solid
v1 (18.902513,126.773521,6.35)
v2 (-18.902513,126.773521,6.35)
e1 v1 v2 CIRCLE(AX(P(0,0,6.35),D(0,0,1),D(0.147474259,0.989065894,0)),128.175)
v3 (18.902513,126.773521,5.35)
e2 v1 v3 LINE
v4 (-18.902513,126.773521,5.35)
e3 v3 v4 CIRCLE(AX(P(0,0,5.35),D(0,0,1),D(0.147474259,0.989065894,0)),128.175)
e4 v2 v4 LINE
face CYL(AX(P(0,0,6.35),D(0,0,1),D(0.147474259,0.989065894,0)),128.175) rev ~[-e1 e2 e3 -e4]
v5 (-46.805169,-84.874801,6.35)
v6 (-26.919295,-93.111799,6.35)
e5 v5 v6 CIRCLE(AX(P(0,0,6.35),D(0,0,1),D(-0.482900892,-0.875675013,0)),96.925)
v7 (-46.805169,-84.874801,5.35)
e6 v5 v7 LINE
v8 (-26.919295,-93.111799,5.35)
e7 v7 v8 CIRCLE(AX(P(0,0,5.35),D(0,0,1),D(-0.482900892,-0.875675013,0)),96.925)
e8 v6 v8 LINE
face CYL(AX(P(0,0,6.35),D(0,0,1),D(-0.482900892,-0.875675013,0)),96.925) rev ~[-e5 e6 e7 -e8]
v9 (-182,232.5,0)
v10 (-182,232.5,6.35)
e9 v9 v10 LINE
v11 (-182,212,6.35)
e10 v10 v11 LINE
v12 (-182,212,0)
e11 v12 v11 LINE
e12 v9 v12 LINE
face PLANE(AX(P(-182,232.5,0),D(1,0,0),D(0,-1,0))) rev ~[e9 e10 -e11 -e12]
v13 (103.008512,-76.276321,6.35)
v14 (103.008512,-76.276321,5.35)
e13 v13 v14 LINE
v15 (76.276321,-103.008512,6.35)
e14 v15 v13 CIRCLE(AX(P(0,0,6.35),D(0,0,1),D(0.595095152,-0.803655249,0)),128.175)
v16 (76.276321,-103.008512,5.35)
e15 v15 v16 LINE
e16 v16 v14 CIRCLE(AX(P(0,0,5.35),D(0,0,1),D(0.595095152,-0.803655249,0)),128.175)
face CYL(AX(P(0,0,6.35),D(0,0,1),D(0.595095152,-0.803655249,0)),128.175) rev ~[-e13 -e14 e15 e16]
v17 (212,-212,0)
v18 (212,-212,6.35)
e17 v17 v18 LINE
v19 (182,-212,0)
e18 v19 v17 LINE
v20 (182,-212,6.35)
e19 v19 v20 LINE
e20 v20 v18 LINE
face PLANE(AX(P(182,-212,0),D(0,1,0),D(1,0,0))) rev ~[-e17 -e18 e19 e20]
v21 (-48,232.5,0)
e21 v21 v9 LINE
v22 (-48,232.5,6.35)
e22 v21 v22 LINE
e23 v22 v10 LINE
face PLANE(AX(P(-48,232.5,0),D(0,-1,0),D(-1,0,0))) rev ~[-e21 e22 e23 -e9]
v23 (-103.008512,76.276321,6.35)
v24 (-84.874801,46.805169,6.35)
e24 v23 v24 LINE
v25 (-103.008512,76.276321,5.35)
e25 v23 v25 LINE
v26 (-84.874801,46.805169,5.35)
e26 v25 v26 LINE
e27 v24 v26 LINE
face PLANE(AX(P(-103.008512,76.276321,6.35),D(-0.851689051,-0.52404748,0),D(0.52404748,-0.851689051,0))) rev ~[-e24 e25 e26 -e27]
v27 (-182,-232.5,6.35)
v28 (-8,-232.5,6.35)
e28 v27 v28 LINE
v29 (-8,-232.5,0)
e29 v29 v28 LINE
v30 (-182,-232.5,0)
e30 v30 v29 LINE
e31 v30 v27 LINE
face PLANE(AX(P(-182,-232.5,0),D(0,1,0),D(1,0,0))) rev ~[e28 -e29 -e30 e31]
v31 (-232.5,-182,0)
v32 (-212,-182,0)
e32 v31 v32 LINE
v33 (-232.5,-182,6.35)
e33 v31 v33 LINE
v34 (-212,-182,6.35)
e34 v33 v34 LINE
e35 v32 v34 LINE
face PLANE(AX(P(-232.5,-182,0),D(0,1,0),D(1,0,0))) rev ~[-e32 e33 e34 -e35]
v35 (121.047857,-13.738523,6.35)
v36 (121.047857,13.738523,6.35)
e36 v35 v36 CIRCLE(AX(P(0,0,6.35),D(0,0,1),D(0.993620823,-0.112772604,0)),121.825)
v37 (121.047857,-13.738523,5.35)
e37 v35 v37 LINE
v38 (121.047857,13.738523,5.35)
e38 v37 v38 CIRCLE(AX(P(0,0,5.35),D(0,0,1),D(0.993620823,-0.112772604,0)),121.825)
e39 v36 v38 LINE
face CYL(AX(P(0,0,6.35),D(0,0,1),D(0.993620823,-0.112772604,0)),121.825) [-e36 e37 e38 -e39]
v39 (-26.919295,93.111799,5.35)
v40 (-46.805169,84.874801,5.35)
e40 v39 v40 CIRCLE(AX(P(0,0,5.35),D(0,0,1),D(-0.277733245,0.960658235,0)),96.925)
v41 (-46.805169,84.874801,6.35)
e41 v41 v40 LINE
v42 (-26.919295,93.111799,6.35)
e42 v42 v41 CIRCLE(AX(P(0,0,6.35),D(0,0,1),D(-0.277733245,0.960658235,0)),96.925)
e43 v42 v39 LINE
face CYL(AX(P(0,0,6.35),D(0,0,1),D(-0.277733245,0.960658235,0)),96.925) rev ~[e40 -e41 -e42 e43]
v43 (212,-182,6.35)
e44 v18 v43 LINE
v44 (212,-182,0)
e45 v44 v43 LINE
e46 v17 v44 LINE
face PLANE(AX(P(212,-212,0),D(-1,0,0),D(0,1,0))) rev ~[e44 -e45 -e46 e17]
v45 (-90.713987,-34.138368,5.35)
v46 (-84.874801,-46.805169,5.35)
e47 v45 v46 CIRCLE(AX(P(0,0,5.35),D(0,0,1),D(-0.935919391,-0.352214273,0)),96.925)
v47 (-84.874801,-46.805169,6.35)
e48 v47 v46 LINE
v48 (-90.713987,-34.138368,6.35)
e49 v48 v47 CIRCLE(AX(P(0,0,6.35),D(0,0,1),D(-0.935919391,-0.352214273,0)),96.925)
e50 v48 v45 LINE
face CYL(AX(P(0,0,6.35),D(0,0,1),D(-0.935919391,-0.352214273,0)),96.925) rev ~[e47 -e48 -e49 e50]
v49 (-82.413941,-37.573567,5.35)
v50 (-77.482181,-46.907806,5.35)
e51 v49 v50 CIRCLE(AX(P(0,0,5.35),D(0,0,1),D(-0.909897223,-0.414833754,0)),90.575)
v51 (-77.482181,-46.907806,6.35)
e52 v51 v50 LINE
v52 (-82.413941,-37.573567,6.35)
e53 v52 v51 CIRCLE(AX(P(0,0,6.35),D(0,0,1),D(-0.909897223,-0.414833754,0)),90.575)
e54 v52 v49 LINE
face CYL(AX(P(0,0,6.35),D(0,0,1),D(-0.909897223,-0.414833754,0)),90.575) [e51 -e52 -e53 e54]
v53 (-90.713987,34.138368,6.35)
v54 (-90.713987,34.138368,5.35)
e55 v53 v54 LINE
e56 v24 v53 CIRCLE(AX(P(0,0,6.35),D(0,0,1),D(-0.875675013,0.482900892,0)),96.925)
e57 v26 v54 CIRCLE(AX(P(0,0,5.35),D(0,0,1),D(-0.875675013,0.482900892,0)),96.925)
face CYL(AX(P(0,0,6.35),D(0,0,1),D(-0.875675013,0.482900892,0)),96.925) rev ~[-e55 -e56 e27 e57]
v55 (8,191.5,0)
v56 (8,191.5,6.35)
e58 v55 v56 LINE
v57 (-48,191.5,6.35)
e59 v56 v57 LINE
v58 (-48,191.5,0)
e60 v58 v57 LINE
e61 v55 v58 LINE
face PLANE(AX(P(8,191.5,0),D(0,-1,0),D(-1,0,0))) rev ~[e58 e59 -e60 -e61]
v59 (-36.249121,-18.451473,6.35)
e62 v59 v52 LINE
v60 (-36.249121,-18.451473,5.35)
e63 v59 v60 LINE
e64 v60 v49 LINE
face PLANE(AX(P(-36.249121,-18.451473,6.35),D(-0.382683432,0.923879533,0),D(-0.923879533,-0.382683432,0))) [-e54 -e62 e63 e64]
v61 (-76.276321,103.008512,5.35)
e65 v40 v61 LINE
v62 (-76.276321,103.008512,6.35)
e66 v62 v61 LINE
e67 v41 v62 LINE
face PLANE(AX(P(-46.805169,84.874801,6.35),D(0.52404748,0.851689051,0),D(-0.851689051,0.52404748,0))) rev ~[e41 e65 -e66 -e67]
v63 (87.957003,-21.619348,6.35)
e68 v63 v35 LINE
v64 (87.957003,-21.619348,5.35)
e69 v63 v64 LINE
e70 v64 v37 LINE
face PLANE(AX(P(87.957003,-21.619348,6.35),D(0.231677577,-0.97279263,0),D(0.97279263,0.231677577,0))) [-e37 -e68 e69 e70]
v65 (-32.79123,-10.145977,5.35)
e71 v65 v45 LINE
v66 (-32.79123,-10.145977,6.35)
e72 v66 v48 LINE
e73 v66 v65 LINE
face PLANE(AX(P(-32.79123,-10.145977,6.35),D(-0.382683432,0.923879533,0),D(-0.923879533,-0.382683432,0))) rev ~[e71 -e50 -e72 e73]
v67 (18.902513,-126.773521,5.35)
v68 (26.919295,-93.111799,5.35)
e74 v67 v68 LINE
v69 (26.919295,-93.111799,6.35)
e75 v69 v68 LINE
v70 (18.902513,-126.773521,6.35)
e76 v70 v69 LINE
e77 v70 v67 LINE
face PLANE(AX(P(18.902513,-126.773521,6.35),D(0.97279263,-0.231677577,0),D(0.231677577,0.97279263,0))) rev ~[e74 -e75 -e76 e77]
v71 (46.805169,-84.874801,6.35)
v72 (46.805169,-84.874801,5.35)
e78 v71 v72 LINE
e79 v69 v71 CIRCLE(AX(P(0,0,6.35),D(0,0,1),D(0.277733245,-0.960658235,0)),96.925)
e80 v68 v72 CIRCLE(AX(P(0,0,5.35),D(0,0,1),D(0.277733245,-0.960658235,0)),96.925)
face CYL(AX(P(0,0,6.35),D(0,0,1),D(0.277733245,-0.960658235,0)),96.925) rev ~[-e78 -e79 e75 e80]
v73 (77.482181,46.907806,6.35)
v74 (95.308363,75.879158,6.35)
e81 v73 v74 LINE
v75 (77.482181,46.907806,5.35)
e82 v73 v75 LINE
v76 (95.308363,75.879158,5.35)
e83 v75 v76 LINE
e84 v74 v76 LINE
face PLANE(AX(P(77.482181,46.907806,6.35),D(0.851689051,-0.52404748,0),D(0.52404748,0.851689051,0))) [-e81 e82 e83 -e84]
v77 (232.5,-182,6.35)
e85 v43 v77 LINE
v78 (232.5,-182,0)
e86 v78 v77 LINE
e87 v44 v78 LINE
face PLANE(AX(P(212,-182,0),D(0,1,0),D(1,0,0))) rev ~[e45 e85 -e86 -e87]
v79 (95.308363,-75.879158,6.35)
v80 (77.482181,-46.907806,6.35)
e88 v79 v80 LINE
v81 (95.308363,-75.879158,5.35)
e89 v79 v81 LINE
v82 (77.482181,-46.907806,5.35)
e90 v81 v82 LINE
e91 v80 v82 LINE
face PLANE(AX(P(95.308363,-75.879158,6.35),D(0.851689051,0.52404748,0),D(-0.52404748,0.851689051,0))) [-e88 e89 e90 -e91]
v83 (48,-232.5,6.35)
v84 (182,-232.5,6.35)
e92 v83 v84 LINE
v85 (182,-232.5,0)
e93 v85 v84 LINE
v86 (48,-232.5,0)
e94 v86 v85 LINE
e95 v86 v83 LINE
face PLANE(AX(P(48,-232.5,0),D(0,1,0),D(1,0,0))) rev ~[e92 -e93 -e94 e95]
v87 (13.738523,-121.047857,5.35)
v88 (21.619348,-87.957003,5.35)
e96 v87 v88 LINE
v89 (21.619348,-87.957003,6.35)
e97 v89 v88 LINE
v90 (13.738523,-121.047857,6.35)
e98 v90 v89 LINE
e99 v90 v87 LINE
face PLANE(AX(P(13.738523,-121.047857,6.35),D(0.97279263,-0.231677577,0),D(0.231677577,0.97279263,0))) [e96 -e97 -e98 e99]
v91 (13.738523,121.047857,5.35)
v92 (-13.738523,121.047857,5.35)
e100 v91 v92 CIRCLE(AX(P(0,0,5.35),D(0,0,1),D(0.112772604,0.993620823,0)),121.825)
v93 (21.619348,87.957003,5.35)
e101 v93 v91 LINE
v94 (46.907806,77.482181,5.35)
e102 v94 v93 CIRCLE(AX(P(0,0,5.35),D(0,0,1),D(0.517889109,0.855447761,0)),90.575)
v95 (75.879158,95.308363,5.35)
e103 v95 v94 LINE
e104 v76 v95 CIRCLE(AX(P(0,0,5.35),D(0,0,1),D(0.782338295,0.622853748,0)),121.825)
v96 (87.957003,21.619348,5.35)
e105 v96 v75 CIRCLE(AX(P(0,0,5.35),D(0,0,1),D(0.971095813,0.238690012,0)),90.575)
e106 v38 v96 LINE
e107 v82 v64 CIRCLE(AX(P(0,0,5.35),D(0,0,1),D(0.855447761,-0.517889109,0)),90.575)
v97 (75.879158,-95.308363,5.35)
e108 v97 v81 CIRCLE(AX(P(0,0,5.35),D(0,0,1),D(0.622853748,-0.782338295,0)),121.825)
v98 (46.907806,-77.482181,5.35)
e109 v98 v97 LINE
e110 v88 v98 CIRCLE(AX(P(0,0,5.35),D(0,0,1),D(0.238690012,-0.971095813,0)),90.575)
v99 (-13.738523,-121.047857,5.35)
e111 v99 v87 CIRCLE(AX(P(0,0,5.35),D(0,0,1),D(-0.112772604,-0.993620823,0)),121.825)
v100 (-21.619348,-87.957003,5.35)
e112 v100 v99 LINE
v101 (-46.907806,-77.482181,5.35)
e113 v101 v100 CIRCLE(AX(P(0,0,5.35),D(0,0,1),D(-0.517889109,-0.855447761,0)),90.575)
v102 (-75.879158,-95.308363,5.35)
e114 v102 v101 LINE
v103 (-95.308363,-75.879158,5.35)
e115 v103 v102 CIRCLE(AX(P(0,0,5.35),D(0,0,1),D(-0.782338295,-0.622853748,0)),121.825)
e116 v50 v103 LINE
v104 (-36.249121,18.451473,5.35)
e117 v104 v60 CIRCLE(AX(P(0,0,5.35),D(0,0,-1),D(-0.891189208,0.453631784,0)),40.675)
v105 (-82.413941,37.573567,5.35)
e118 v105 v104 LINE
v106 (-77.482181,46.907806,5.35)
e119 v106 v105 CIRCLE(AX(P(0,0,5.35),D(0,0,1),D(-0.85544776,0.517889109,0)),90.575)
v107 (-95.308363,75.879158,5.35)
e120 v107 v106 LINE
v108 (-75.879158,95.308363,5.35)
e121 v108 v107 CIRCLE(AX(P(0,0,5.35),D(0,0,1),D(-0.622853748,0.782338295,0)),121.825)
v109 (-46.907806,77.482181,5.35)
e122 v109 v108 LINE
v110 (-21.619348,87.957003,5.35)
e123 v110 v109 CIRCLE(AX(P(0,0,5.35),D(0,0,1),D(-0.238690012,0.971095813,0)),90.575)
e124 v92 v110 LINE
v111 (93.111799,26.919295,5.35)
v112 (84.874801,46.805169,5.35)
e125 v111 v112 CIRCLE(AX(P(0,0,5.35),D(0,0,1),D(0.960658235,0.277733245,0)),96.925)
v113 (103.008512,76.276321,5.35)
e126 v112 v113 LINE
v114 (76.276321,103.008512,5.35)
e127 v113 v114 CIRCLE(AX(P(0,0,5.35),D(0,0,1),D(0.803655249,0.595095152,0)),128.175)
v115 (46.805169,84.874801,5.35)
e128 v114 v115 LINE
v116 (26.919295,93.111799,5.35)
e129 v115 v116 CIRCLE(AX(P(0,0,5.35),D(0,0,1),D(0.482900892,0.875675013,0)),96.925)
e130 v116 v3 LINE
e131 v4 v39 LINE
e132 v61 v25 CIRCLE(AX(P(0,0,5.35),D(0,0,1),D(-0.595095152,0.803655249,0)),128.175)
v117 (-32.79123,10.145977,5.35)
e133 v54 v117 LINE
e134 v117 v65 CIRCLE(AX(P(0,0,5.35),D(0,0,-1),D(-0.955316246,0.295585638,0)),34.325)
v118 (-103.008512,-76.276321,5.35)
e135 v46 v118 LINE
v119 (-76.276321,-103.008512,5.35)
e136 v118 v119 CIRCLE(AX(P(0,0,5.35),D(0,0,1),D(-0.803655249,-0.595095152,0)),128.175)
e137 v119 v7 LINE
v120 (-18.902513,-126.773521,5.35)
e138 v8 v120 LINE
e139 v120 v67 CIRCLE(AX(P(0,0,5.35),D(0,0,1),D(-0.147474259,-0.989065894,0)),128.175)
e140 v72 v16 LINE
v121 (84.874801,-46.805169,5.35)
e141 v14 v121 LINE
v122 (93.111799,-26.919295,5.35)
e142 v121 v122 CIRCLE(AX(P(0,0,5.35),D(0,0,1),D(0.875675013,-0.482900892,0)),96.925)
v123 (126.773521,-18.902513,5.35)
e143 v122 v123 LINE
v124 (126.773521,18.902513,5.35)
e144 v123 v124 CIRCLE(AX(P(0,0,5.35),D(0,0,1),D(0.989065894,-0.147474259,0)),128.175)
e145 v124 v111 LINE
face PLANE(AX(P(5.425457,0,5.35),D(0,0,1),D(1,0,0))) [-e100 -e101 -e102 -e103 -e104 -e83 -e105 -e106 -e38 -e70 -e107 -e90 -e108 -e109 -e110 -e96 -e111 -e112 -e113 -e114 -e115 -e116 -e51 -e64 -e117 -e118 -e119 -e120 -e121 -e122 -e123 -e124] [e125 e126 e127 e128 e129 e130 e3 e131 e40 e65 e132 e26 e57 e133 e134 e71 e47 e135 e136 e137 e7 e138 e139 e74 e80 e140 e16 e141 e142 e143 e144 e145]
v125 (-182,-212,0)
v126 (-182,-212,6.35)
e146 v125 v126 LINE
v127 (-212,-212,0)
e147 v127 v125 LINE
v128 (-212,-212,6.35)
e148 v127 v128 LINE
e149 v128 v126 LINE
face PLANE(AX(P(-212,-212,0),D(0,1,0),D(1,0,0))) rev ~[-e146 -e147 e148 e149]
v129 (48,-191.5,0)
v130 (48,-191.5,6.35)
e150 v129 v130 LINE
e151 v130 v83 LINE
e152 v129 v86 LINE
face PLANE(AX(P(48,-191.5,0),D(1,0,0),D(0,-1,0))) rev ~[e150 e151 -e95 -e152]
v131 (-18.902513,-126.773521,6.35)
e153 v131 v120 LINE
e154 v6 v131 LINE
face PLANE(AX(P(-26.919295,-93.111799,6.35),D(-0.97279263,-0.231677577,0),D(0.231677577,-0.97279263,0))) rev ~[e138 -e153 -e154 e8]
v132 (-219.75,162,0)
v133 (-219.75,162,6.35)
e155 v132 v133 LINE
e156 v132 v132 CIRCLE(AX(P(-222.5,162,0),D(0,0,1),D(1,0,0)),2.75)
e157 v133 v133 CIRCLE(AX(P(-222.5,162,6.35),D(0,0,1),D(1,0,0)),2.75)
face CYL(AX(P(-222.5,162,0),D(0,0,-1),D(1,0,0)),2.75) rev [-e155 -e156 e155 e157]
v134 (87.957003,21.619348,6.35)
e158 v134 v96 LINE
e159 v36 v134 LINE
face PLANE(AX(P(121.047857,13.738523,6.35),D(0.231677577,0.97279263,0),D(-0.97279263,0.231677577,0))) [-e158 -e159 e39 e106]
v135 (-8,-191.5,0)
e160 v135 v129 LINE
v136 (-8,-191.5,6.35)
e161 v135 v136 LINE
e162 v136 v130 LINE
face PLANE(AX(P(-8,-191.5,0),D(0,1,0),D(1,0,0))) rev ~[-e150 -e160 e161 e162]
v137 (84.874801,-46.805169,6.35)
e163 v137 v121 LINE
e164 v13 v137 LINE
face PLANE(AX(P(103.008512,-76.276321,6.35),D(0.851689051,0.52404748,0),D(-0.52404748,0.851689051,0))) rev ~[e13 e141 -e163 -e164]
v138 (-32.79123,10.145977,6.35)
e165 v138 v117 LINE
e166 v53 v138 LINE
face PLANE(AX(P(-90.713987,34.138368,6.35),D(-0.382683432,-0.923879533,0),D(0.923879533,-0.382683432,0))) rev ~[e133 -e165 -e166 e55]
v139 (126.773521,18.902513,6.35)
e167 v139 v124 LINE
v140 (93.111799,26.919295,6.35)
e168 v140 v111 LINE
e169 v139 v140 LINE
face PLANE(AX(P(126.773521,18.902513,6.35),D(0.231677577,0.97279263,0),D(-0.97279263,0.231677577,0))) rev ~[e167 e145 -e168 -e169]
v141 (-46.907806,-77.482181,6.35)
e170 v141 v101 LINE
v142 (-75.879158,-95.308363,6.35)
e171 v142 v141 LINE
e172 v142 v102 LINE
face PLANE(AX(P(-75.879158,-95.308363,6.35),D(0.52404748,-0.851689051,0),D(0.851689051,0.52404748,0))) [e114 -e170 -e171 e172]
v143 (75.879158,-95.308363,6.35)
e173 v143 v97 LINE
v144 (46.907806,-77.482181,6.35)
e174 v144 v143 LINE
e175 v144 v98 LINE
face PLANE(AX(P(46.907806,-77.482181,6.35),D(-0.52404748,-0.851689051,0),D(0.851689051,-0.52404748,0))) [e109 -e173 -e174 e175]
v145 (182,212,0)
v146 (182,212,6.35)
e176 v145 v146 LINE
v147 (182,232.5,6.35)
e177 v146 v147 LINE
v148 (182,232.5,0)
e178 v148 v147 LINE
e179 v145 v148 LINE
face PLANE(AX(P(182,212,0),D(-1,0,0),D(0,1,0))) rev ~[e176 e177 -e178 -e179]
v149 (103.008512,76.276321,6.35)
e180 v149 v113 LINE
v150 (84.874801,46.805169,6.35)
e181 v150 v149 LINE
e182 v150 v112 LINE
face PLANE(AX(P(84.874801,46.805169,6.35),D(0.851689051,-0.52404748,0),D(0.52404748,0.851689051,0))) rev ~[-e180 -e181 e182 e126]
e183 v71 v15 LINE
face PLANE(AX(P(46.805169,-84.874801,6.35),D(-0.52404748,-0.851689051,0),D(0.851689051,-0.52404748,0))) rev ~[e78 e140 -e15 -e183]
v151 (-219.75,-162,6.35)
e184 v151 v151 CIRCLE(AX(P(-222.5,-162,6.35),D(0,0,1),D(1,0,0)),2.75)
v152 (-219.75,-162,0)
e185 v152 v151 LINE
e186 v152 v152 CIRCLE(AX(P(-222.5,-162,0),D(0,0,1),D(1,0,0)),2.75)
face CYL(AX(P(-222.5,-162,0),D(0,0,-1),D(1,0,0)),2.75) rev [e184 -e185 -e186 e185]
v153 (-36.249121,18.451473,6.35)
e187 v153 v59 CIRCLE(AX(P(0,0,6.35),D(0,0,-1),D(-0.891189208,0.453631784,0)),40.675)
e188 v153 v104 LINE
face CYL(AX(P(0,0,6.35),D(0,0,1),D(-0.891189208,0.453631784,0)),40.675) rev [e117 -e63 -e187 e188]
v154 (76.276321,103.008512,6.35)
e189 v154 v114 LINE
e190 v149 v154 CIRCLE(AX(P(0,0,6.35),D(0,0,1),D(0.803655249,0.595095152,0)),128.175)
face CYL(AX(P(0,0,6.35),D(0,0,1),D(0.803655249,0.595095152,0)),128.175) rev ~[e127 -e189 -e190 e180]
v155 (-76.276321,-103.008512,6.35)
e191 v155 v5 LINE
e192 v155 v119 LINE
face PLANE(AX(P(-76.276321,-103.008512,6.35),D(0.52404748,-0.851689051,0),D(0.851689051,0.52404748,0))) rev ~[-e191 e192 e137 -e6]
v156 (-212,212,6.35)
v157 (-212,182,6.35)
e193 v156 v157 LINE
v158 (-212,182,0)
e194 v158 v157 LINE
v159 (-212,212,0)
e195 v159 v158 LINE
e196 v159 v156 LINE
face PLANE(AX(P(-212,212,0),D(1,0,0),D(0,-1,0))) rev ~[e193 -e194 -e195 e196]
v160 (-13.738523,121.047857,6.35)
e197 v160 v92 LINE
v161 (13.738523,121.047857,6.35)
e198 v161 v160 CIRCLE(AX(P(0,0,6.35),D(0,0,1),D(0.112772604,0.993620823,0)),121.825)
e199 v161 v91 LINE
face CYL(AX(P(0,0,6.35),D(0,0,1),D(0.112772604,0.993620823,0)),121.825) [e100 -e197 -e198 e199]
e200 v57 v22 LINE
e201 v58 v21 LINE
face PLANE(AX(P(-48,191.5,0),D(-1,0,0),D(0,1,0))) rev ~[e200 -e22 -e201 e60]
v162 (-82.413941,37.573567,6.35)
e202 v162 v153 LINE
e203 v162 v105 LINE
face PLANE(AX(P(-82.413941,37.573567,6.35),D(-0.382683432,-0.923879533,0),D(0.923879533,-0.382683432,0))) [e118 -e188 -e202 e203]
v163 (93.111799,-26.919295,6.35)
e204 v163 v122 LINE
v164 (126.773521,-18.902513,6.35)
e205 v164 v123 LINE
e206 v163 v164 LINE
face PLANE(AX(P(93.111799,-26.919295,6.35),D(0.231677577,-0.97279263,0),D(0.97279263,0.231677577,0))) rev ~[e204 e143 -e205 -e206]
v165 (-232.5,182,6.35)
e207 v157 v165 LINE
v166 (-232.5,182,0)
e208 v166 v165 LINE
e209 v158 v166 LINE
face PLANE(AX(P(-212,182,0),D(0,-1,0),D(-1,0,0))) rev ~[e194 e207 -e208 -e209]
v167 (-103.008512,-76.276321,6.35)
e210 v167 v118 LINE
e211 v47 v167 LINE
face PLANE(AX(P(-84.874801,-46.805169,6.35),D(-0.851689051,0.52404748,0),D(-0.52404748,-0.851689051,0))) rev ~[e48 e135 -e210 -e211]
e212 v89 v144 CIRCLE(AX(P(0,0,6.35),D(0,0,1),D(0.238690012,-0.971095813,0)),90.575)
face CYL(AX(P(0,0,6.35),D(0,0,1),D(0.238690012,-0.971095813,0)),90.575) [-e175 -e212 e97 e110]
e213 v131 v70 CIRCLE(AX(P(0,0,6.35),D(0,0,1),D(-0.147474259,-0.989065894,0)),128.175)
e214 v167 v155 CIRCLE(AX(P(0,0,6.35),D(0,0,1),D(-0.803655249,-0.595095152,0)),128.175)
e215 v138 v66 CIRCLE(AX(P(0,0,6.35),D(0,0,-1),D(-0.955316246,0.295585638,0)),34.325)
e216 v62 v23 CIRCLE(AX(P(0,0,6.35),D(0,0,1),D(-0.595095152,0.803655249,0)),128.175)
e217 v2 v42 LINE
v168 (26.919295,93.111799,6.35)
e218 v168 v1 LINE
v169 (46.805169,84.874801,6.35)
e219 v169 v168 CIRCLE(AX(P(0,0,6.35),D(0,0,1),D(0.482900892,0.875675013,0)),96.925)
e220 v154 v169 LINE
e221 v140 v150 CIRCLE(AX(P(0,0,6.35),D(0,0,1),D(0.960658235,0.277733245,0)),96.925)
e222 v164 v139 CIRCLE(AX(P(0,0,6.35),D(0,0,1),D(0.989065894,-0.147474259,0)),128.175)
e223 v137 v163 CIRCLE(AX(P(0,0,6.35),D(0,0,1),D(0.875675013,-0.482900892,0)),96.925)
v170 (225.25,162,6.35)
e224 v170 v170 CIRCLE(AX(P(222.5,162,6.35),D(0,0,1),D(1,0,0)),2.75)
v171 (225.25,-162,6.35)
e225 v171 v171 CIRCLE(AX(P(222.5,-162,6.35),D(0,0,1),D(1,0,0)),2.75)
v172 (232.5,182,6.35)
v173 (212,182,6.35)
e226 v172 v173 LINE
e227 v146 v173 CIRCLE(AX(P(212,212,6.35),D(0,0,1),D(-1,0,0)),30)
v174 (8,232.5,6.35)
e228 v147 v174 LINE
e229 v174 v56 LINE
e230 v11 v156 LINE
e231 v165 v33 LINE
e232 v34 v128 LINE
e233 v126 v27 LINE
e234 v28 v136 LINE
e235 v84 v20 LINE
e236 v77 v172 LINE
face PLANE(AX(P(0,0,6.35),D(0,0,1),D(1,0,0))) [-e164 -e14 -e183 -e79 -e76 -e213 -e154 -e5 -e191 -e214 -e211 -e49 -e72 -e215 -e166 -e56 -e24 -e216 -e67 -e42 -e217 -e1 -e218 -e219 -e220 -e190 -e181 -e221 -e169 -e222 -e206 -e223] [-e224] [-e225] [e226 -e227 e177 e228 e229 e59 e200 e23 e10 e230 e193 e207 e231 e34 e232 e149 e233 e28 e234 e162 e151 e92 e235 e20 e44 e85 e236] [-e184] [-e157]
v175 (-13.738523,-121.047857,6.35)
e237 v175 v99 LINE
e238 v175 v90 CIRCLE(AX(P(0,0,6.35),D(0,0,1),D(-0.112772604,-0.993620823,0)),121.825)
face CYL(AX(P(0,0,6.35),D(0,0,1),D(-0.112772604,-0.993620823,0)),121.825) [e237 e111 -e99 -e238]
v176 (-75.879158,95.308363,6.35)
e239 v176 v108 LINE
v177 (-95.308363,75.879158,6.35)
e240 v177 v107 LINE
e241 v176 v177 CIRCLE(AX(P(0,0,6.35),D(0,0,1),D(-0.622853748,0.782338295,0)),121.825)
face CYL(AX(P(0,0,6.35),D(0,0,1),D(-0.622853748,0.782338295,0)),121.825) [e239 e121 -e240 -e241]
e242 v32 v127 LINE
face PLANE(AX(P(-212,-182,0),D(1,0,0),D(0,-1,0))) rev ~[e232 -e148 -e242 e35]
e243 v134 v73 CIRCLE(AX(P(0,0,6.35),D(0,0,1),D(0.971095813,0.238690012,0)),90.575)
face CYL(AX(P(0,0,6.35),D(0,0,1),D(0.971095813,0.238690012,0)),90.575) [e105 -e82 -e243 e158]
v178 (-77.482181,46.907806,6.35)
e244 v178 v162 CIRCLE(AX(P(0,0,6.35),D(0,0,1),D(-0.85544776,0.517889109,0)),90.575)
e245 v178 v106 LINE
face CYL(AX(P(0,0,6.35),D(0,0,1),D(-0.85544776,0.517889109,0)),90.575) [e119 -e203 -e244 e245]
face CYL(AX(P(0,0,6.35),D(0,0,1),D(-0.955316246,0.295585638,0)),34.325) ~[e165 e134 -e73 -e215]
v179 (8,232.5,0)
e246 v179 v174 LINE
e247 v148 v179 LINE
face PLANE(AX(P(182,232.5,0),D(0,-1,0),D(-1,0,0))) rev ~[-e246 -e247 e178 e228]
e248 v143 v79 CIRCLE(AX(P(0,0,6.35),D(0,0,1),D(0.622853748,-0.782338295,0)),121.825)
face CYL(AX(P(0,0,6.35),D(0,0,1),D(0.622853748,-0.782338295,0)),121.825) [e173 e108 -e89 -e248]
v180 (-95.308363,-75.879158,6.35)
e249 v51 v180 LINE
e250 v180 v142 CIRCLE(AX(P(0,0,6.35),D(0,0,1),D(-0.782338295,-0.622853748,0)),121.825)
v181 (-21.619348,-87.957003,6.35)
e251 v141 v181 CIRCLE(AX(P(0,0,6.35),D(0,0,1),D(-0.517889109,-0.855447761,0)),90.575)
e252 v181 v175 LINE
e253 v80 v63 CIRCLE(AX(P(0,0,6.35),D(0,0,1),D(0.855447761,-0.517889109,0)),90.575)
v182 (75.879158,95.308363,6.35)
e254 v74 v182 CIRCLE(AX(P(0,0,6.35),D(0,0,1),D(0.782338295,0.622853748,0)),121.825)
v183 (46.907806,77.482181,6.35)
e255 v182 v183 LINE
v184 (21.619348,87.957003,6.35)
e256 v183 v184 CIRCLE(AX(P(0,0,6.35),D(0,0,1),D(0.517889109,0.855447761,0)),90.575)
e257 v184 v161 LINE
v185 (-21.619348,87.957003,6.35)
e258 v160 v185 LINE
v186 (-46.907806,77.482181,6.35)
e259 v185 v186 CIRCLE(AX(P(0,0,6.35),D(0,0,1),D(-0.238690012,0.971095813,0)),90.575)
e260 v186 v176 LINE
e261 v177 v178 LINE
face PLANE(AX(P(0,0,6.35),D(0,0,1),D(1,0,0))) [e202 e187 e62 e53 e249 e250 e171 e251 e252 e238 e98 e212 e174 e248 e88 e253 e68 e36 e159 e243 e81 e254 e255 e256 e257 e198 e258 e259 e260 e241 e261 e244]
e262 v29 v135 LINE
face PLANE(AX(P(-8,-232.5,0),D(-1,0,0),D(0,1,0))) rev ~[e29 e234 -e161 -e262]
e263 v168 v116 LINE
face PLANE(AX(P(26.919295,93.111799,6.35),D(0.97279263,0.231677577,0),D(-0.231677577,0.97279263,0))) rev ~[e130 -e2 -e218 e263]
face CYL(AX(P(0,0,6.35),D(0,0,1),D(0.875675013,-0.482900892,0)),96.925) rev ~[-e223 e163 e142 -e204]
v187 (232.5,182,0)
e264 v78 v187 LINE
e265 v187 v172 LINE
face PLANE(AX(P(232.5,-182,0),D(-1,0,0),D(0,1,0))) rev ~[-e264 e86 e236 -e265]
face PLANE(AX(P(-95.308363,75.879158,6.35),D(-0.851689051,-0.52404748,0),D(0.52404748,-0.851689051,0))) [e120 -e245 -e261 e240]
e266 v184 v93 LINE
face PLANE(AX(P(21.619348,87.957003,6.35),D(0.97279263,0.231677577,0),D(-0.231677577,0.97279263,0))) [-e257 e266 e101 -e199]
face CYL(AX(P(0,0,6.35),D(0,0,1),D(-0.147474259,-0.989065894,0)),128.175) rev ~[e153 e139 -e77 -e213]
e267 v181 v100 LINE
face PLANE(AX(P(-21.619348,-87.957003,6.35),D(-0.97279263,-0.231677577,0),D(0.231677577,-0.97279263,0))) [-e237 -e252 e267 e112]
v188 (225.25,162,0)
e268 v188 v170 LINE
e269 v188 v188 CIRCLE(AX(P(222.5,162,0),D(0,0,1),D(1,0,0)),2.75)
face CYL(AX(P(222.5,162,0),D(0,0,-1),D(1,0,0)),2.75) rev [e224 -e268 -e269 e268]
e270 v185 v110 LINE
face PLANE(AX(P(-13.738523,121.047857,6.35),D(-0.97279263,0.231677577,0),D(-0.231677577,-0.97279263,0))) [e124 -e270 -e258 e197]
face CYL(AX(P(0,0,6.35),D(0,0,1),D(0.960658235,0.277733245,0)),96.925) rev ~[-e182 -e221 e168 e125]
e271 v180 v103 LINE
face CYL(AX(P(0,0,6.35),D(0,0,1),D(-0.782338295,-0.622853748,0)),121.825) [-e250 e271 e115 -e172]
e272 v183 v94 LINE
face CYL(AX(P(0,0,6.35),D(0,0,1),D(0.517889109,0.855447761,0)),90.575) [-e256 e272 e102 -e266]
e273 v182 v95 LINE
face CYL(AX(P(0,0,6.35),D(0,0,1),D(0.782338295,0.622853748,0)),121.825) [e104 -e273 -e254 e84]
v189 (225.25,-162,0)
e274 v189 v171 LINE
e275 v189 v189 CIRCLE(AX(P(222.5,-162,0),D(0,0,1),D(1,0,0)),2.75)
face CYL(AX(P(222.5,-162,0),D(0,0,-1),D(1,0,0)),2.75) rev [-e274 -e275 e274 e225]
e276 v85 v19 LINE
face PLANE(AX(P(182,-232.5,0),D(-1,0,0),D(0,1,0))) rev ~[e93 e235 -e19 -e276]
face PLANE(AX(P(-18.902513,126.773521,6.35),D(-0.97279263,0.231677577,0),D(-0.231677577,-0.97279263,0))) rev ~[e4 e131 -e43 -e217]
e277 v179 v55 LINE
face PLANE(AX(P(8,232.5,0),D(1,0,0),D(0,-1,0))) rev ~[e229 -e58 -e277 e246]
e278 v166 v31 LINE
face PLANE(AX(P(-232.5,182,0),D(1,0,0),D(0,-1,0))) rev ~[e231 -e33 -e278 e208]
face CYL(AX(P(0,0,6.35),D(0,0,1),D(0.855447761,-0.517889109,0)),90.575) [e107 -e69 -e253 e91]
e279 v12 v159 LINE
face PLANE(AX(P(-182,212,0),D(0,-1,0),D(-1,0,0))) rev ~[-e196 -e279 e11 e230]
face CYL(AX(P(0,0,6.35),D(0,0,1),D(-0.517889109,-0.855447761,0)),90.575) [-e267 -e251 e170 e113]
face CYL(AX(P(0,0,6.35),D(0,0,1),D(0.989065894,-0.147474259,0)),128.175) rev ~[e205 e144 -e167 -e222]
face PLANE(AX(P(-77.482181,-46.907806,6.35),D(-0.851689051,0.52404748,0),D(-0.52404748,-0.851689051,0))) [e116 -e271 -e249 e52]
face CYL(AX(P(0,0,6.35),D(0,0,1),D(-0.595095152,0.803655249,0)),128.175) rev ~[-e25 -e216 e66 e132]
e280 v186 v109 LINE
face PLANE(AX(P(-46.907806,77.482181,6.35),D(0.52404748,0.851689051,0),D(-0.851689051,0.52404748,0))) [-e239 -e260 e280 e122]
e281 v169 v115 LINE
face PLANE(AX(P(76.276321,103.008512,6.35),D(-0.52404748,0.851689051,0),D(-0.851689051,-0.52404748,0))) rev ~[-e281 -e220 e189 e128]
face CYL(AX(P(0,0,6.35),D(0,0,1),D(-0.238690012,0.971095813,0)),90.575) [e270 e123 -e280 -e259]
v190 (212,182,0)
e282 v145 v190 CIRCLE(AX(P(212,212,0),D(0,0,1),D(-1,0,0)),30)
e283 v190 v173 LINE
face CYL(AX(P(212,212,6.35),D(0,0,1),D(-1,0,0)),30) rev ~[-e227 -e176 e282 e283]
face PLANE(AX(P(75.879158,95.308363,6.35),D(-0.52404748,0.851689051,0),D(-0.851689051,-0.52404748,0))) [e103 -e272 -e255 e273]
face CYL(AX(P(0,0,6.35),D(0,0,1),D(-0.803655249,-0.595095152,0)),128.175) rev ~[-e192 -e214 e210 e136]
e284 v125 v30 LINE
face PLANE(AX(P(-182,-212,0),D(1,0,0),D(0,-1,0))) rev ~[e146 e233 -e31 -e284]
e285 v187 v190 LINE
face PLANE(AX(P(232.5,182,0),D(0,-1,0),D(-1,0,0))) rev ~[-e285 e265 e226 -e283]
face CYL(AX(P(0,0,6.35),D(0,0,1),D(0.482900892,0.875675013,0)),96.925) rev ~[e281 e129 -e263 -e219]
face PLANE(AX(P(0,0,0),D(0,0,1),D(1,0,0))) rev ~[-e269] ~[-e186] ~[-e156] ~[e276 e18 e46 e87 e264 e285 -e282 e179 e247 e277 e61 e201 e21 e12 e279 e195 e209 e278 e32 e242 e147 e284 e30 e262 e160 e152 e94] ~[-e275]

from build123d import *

# Parameters (mm, degrees)
SKETCH1_R           = 2.75
BOSS_EXTRUDE1_DEPTH = 6.35
CUT_EXTRUDE1_DEPTH  = 6.35
CUT_EXTRUDE2_DEPTH  = 1


with BuildPart() as part:
    # Sketch1 → Boss-Extrude1 (new body)
    with BuildSketch(Plane.XY):
        Polygon((182, -212), (212, -212), (212, -182), (232.5, -182), (232.5, 0), (232.5, 182), (212, 182), (212, 212), (182, 212), (182, 232.5), (8, 232.5), (8, 191.5), (-48, 191.5), (-48, 232.5), (-182, 232.5), (-182, 212), (-212, 212), (-212, 182), (-232.5, 182), (-232.5, 0), (-232.5, -182), (-212, -182), (-212, -212), (-182, -212), (-182, -232.5), (-8, -232.5), (-8, -191.5), (48, -191.5), (48, -232.5), (182, -232.5), align=None)
        with Locations((-222.5, -162)):
            Circle(SKETCH1_R, mode=Mode.SUBTRACT)
        with Locations((222.5, -162)):
            Circle(SKETCH1_R, mode=Mode.SUBTRACT)
        with Locations((222.5, 162)):
            Circle(SKETCH1_R, mode=Mode.SUBTRACT)
        with Locations((-222.5, 162)):
            Circle(SKETCH1_R, mode=Mode.SUBTRACT)
    extrude(amount=BOSS_EXTRUDE1_DEPTH)

    # Sketch2 → Cut-Extrude1 (cut)
    with BuildSketch(Plane.XY.offset(6.35)):
        with BuildLine():
            Line((212, 212), (182, 212))
            ThreePointArc((182, 212), (190.786796564, 190.786796564), (212, 182))
            Line((212, 182), (212, 212))
        make_face()
    extrude(amount=-CUT_EXTRUDE1_DEPTH, mode=Mode.SUBTRACT)

    # Sketch3 → Cut-Extrude2 (cut)
    with BuildSketch(Plane.XY.offset(6.35)):
        with BuildLine():
            Line((-90.71398693, 34.138368447), (-32.791230158, 10.145977022))
            ThreePointArc((-32.791230158, 10.145977022), (34.325, 0), (-32.791230158, -10.145977022))
            Line((-32.791230158, -10.145977022), (-90.71398693, -34.138368447))
            ThreePointArc((-90.71398693, -34.138368447), (-88.022539954, -40.576940312), (-84.874800654, -46.805168935))
            Line((-84.874800654, -46.805168935), (-103.008511577, -76.276321146))
            ThreePointArc((-103.008511577, -76.276321146), (-90.633411679, -90.633411679), (-76.276321146, -103.008511577))
            Line((-76.276321146, -103.008511577), (-46.805168935, -84.874800654))
            ThreePointArc((-46.805168935, -84.874800654), (-37.091591682, -89.547023689), (-26.919294746, -93.111799442))
            Line((-26.919294746, -93.111799442), (-18.90251313, -126.773520983))
            ThreePointArc((-18.90251313, -126.773520983), (0, -128.175), (18.90251313, -126.773520983))
            Line((18.90251313, -126.773520983), (26.919294746, -93.111799442))
            ThreePointArc((26.919294746, -93.111799442), (37.091591682, -89.547023689), (46.805168935, -84.874800654))
            Line((46.805168935, -84.874800654), (76.276321146, -103.008511577))
            ThreePointArc((76.276321146, -103.008511577), (90.633411679, -90.633411679), (103.008511577, -76.276321146))
            Line((103.008511577, -76.276321146), (84.874800654, -46.805168935))
            ThreePointArc((84.874800654, -46.805168935), (89.547023689, -37.091591682), (93.111799442, -26.919294746))
            Line((93.111799442, -26.919294746), (126.773520983, -18.90251313))
            ThreePointArc((126.773520983, -18.90251313), (128.175, 0), (126.773520983, 18.90251313))
            Line((126.773520983, 18.90251313), (93.111799442, 26.919294746))
            ThreePointArc((93.111799442, 26.919294746), (89.547023689, 37.091591682), (84.874800654, 46.805168935))
            Line((84.874800654, 46.805168935), (103.008511577, 76.276321146))
            ThreePointArc((103.008511577, 76.276321146), (90.633411679, 90.633411679), (76.276321146, 103.008511577))
            Line((76.276321146, 103.008511577), (46.805168935, 84.874800654))
            ThreePointArc((46.805168935, 84.874800654), (37.091591682, 89.547023689), (26.919294746, 93.111799442))
            Line((26.919294746, 93.111799442), (18.90251313, 126.773520983))
            ThreePointArc((18.90251313, 126.773520983), (0, 128.175), (-18.90251313, 126.773520983))
            Line((-18.90251313, 126.773520983), (-26.919294746, 93.111799442))
            ThreePointArc((-26.919294746, 93.111799442), (-37.091591682, 89.547023689), (-46.805168935, 84.874800654))
            Line((-46.805168935, 84.874800654), (-76.276321146, 103.008511577))
            ThreePointArc((-76.276321146, 103.008511577), (-90.633411679, 90.633411679), (-103.008511577, 76.276321146))
            Line((-103.008511577, 76.276321146), (-84.874800654, 46.805168935))
            ThreePointArc((-84.874800654, 46.805168935), (-88.022539954, 40.576940312), (-90.71398693, 34.138368447))
        make_face()
        with BuildLine():
            Line((-82.41394096, 37.57356731), (-36.249121046, 18.451472797))
            ThreePointArc((-36.249121046, 18.451472797), (40.675, 0), (-36.249121046, -18.451472797))
            Line((-36.249121046, -18.451472797), (-82.41394096, -37.57356731))
            ThreePointArc((-82.41394096, -37.57356731), (-80.084171036, -42.312600659), (-77.482180911, -46.907806027))
            Line((-77.482180911, -46.907806027), (-95.308362806, -75.879157904))
            ThreePointArc((-95.308362806, -75.879157904), (-86.143283618, -86.143283618), (-75.879157904, -95.308362806))
            Line((-75.879157904, -95.308362806), (-46.907806027, -77.482180911))
            ThreePointArc((-46.907806027, -77.482180911), (-34.661551886, -83.680388657), (-21.619347811, -87.957003276))
            Line((-21.619347811, -87.957003276), (-13.73852254, -121.047856749))
            ThreePointArc((-13.73852254, -121.047856749), (0, -121.825), (13.73852254, -121.047856749))
            Line((13.73852254, -121.047856749), (21.619347811, -87.957003276))
            ThreePointArc((21.619347811, -87.957003276), (34.661551886, -83.680388657), (46.907806027, -77.482180911))
            Line((46.907806027, -77.482180911), (75.879157904, -95.308362806))
            ThreePointArc((75.879157904, -95.308362806), (86.143283618, -86.143283618), (95.308362806, -75.879157904))
            Line((95.308362806, -75.879157904), (77.482180911, -46.907806027))
            ThreePointArc((77.482180911, -46.907806027), (83.680388657, -34.661551886), (87.957003276, -21.619347811))
            Line((87.957003276, -21.619347811), (121.047856749, -13.73852254))
            ThreePointArc((121.047856749, -13.73852254), (121.825, 0), (121.047856749, 13.73852254))
            Line((121.047856749, 13.73852254), (87.957003276, 21.619347811))
            ThreePointArc((87.957003276, 21.619347811), (83.680388657, 34.661551886), (77.482180911, 46.907806027))
            Line((77.482180911, 46.907806027), (95.308362806, 75.879157904))
            ThreePointArc((95.308362806, 75.879157904), (86.143283618, 86.143283618), (75.879157904, 95.308362806))
            Line((75.879157904, 95.308362806), (46.907806027, 77.482180911))
            ThreePointArc((46.907806027, 77.482180911), (34.661551886, 83.680388657), (21.619347811, 87.957003276))
            Line((21.619347811, 87.957003276), (13.73852254, 121.047856749))
            ThreePointArc((13.73852254, 121.047856749), (0, 121.825), (-13.73852254, 121.047856749))
            Line((-13.73852254, 121.047856749), (-21.619347811, 87.957003276))
            ThreePointArc((-21.619347811, 87.957003276), (-34.661551886, 83.680388657), (-46.907806027, 77.482180911))
            Line((-46.907806027, 77.482180911), (-75.879157904, 95.308362806))
            ThreePointArc((-75.879157904, 95.308362806), (-86.143283618, 86.143283618), (-95.308362806, 75.879157904))
            Line((-95.308362806, 75.879157904), (-77.482180911, 46.907806027))
            ThreePointArc((-77.482180911, 46.907806027), (-80.084171036, 42.312600659), (-82.41394096, 37.57356731))
        make_face(mode=Mode.SUBTRACT)
    extrude(amount=-CUT_EXTRUDE2_DEPTH, mode=Mode.SUBTRACT)


solid = part.part
